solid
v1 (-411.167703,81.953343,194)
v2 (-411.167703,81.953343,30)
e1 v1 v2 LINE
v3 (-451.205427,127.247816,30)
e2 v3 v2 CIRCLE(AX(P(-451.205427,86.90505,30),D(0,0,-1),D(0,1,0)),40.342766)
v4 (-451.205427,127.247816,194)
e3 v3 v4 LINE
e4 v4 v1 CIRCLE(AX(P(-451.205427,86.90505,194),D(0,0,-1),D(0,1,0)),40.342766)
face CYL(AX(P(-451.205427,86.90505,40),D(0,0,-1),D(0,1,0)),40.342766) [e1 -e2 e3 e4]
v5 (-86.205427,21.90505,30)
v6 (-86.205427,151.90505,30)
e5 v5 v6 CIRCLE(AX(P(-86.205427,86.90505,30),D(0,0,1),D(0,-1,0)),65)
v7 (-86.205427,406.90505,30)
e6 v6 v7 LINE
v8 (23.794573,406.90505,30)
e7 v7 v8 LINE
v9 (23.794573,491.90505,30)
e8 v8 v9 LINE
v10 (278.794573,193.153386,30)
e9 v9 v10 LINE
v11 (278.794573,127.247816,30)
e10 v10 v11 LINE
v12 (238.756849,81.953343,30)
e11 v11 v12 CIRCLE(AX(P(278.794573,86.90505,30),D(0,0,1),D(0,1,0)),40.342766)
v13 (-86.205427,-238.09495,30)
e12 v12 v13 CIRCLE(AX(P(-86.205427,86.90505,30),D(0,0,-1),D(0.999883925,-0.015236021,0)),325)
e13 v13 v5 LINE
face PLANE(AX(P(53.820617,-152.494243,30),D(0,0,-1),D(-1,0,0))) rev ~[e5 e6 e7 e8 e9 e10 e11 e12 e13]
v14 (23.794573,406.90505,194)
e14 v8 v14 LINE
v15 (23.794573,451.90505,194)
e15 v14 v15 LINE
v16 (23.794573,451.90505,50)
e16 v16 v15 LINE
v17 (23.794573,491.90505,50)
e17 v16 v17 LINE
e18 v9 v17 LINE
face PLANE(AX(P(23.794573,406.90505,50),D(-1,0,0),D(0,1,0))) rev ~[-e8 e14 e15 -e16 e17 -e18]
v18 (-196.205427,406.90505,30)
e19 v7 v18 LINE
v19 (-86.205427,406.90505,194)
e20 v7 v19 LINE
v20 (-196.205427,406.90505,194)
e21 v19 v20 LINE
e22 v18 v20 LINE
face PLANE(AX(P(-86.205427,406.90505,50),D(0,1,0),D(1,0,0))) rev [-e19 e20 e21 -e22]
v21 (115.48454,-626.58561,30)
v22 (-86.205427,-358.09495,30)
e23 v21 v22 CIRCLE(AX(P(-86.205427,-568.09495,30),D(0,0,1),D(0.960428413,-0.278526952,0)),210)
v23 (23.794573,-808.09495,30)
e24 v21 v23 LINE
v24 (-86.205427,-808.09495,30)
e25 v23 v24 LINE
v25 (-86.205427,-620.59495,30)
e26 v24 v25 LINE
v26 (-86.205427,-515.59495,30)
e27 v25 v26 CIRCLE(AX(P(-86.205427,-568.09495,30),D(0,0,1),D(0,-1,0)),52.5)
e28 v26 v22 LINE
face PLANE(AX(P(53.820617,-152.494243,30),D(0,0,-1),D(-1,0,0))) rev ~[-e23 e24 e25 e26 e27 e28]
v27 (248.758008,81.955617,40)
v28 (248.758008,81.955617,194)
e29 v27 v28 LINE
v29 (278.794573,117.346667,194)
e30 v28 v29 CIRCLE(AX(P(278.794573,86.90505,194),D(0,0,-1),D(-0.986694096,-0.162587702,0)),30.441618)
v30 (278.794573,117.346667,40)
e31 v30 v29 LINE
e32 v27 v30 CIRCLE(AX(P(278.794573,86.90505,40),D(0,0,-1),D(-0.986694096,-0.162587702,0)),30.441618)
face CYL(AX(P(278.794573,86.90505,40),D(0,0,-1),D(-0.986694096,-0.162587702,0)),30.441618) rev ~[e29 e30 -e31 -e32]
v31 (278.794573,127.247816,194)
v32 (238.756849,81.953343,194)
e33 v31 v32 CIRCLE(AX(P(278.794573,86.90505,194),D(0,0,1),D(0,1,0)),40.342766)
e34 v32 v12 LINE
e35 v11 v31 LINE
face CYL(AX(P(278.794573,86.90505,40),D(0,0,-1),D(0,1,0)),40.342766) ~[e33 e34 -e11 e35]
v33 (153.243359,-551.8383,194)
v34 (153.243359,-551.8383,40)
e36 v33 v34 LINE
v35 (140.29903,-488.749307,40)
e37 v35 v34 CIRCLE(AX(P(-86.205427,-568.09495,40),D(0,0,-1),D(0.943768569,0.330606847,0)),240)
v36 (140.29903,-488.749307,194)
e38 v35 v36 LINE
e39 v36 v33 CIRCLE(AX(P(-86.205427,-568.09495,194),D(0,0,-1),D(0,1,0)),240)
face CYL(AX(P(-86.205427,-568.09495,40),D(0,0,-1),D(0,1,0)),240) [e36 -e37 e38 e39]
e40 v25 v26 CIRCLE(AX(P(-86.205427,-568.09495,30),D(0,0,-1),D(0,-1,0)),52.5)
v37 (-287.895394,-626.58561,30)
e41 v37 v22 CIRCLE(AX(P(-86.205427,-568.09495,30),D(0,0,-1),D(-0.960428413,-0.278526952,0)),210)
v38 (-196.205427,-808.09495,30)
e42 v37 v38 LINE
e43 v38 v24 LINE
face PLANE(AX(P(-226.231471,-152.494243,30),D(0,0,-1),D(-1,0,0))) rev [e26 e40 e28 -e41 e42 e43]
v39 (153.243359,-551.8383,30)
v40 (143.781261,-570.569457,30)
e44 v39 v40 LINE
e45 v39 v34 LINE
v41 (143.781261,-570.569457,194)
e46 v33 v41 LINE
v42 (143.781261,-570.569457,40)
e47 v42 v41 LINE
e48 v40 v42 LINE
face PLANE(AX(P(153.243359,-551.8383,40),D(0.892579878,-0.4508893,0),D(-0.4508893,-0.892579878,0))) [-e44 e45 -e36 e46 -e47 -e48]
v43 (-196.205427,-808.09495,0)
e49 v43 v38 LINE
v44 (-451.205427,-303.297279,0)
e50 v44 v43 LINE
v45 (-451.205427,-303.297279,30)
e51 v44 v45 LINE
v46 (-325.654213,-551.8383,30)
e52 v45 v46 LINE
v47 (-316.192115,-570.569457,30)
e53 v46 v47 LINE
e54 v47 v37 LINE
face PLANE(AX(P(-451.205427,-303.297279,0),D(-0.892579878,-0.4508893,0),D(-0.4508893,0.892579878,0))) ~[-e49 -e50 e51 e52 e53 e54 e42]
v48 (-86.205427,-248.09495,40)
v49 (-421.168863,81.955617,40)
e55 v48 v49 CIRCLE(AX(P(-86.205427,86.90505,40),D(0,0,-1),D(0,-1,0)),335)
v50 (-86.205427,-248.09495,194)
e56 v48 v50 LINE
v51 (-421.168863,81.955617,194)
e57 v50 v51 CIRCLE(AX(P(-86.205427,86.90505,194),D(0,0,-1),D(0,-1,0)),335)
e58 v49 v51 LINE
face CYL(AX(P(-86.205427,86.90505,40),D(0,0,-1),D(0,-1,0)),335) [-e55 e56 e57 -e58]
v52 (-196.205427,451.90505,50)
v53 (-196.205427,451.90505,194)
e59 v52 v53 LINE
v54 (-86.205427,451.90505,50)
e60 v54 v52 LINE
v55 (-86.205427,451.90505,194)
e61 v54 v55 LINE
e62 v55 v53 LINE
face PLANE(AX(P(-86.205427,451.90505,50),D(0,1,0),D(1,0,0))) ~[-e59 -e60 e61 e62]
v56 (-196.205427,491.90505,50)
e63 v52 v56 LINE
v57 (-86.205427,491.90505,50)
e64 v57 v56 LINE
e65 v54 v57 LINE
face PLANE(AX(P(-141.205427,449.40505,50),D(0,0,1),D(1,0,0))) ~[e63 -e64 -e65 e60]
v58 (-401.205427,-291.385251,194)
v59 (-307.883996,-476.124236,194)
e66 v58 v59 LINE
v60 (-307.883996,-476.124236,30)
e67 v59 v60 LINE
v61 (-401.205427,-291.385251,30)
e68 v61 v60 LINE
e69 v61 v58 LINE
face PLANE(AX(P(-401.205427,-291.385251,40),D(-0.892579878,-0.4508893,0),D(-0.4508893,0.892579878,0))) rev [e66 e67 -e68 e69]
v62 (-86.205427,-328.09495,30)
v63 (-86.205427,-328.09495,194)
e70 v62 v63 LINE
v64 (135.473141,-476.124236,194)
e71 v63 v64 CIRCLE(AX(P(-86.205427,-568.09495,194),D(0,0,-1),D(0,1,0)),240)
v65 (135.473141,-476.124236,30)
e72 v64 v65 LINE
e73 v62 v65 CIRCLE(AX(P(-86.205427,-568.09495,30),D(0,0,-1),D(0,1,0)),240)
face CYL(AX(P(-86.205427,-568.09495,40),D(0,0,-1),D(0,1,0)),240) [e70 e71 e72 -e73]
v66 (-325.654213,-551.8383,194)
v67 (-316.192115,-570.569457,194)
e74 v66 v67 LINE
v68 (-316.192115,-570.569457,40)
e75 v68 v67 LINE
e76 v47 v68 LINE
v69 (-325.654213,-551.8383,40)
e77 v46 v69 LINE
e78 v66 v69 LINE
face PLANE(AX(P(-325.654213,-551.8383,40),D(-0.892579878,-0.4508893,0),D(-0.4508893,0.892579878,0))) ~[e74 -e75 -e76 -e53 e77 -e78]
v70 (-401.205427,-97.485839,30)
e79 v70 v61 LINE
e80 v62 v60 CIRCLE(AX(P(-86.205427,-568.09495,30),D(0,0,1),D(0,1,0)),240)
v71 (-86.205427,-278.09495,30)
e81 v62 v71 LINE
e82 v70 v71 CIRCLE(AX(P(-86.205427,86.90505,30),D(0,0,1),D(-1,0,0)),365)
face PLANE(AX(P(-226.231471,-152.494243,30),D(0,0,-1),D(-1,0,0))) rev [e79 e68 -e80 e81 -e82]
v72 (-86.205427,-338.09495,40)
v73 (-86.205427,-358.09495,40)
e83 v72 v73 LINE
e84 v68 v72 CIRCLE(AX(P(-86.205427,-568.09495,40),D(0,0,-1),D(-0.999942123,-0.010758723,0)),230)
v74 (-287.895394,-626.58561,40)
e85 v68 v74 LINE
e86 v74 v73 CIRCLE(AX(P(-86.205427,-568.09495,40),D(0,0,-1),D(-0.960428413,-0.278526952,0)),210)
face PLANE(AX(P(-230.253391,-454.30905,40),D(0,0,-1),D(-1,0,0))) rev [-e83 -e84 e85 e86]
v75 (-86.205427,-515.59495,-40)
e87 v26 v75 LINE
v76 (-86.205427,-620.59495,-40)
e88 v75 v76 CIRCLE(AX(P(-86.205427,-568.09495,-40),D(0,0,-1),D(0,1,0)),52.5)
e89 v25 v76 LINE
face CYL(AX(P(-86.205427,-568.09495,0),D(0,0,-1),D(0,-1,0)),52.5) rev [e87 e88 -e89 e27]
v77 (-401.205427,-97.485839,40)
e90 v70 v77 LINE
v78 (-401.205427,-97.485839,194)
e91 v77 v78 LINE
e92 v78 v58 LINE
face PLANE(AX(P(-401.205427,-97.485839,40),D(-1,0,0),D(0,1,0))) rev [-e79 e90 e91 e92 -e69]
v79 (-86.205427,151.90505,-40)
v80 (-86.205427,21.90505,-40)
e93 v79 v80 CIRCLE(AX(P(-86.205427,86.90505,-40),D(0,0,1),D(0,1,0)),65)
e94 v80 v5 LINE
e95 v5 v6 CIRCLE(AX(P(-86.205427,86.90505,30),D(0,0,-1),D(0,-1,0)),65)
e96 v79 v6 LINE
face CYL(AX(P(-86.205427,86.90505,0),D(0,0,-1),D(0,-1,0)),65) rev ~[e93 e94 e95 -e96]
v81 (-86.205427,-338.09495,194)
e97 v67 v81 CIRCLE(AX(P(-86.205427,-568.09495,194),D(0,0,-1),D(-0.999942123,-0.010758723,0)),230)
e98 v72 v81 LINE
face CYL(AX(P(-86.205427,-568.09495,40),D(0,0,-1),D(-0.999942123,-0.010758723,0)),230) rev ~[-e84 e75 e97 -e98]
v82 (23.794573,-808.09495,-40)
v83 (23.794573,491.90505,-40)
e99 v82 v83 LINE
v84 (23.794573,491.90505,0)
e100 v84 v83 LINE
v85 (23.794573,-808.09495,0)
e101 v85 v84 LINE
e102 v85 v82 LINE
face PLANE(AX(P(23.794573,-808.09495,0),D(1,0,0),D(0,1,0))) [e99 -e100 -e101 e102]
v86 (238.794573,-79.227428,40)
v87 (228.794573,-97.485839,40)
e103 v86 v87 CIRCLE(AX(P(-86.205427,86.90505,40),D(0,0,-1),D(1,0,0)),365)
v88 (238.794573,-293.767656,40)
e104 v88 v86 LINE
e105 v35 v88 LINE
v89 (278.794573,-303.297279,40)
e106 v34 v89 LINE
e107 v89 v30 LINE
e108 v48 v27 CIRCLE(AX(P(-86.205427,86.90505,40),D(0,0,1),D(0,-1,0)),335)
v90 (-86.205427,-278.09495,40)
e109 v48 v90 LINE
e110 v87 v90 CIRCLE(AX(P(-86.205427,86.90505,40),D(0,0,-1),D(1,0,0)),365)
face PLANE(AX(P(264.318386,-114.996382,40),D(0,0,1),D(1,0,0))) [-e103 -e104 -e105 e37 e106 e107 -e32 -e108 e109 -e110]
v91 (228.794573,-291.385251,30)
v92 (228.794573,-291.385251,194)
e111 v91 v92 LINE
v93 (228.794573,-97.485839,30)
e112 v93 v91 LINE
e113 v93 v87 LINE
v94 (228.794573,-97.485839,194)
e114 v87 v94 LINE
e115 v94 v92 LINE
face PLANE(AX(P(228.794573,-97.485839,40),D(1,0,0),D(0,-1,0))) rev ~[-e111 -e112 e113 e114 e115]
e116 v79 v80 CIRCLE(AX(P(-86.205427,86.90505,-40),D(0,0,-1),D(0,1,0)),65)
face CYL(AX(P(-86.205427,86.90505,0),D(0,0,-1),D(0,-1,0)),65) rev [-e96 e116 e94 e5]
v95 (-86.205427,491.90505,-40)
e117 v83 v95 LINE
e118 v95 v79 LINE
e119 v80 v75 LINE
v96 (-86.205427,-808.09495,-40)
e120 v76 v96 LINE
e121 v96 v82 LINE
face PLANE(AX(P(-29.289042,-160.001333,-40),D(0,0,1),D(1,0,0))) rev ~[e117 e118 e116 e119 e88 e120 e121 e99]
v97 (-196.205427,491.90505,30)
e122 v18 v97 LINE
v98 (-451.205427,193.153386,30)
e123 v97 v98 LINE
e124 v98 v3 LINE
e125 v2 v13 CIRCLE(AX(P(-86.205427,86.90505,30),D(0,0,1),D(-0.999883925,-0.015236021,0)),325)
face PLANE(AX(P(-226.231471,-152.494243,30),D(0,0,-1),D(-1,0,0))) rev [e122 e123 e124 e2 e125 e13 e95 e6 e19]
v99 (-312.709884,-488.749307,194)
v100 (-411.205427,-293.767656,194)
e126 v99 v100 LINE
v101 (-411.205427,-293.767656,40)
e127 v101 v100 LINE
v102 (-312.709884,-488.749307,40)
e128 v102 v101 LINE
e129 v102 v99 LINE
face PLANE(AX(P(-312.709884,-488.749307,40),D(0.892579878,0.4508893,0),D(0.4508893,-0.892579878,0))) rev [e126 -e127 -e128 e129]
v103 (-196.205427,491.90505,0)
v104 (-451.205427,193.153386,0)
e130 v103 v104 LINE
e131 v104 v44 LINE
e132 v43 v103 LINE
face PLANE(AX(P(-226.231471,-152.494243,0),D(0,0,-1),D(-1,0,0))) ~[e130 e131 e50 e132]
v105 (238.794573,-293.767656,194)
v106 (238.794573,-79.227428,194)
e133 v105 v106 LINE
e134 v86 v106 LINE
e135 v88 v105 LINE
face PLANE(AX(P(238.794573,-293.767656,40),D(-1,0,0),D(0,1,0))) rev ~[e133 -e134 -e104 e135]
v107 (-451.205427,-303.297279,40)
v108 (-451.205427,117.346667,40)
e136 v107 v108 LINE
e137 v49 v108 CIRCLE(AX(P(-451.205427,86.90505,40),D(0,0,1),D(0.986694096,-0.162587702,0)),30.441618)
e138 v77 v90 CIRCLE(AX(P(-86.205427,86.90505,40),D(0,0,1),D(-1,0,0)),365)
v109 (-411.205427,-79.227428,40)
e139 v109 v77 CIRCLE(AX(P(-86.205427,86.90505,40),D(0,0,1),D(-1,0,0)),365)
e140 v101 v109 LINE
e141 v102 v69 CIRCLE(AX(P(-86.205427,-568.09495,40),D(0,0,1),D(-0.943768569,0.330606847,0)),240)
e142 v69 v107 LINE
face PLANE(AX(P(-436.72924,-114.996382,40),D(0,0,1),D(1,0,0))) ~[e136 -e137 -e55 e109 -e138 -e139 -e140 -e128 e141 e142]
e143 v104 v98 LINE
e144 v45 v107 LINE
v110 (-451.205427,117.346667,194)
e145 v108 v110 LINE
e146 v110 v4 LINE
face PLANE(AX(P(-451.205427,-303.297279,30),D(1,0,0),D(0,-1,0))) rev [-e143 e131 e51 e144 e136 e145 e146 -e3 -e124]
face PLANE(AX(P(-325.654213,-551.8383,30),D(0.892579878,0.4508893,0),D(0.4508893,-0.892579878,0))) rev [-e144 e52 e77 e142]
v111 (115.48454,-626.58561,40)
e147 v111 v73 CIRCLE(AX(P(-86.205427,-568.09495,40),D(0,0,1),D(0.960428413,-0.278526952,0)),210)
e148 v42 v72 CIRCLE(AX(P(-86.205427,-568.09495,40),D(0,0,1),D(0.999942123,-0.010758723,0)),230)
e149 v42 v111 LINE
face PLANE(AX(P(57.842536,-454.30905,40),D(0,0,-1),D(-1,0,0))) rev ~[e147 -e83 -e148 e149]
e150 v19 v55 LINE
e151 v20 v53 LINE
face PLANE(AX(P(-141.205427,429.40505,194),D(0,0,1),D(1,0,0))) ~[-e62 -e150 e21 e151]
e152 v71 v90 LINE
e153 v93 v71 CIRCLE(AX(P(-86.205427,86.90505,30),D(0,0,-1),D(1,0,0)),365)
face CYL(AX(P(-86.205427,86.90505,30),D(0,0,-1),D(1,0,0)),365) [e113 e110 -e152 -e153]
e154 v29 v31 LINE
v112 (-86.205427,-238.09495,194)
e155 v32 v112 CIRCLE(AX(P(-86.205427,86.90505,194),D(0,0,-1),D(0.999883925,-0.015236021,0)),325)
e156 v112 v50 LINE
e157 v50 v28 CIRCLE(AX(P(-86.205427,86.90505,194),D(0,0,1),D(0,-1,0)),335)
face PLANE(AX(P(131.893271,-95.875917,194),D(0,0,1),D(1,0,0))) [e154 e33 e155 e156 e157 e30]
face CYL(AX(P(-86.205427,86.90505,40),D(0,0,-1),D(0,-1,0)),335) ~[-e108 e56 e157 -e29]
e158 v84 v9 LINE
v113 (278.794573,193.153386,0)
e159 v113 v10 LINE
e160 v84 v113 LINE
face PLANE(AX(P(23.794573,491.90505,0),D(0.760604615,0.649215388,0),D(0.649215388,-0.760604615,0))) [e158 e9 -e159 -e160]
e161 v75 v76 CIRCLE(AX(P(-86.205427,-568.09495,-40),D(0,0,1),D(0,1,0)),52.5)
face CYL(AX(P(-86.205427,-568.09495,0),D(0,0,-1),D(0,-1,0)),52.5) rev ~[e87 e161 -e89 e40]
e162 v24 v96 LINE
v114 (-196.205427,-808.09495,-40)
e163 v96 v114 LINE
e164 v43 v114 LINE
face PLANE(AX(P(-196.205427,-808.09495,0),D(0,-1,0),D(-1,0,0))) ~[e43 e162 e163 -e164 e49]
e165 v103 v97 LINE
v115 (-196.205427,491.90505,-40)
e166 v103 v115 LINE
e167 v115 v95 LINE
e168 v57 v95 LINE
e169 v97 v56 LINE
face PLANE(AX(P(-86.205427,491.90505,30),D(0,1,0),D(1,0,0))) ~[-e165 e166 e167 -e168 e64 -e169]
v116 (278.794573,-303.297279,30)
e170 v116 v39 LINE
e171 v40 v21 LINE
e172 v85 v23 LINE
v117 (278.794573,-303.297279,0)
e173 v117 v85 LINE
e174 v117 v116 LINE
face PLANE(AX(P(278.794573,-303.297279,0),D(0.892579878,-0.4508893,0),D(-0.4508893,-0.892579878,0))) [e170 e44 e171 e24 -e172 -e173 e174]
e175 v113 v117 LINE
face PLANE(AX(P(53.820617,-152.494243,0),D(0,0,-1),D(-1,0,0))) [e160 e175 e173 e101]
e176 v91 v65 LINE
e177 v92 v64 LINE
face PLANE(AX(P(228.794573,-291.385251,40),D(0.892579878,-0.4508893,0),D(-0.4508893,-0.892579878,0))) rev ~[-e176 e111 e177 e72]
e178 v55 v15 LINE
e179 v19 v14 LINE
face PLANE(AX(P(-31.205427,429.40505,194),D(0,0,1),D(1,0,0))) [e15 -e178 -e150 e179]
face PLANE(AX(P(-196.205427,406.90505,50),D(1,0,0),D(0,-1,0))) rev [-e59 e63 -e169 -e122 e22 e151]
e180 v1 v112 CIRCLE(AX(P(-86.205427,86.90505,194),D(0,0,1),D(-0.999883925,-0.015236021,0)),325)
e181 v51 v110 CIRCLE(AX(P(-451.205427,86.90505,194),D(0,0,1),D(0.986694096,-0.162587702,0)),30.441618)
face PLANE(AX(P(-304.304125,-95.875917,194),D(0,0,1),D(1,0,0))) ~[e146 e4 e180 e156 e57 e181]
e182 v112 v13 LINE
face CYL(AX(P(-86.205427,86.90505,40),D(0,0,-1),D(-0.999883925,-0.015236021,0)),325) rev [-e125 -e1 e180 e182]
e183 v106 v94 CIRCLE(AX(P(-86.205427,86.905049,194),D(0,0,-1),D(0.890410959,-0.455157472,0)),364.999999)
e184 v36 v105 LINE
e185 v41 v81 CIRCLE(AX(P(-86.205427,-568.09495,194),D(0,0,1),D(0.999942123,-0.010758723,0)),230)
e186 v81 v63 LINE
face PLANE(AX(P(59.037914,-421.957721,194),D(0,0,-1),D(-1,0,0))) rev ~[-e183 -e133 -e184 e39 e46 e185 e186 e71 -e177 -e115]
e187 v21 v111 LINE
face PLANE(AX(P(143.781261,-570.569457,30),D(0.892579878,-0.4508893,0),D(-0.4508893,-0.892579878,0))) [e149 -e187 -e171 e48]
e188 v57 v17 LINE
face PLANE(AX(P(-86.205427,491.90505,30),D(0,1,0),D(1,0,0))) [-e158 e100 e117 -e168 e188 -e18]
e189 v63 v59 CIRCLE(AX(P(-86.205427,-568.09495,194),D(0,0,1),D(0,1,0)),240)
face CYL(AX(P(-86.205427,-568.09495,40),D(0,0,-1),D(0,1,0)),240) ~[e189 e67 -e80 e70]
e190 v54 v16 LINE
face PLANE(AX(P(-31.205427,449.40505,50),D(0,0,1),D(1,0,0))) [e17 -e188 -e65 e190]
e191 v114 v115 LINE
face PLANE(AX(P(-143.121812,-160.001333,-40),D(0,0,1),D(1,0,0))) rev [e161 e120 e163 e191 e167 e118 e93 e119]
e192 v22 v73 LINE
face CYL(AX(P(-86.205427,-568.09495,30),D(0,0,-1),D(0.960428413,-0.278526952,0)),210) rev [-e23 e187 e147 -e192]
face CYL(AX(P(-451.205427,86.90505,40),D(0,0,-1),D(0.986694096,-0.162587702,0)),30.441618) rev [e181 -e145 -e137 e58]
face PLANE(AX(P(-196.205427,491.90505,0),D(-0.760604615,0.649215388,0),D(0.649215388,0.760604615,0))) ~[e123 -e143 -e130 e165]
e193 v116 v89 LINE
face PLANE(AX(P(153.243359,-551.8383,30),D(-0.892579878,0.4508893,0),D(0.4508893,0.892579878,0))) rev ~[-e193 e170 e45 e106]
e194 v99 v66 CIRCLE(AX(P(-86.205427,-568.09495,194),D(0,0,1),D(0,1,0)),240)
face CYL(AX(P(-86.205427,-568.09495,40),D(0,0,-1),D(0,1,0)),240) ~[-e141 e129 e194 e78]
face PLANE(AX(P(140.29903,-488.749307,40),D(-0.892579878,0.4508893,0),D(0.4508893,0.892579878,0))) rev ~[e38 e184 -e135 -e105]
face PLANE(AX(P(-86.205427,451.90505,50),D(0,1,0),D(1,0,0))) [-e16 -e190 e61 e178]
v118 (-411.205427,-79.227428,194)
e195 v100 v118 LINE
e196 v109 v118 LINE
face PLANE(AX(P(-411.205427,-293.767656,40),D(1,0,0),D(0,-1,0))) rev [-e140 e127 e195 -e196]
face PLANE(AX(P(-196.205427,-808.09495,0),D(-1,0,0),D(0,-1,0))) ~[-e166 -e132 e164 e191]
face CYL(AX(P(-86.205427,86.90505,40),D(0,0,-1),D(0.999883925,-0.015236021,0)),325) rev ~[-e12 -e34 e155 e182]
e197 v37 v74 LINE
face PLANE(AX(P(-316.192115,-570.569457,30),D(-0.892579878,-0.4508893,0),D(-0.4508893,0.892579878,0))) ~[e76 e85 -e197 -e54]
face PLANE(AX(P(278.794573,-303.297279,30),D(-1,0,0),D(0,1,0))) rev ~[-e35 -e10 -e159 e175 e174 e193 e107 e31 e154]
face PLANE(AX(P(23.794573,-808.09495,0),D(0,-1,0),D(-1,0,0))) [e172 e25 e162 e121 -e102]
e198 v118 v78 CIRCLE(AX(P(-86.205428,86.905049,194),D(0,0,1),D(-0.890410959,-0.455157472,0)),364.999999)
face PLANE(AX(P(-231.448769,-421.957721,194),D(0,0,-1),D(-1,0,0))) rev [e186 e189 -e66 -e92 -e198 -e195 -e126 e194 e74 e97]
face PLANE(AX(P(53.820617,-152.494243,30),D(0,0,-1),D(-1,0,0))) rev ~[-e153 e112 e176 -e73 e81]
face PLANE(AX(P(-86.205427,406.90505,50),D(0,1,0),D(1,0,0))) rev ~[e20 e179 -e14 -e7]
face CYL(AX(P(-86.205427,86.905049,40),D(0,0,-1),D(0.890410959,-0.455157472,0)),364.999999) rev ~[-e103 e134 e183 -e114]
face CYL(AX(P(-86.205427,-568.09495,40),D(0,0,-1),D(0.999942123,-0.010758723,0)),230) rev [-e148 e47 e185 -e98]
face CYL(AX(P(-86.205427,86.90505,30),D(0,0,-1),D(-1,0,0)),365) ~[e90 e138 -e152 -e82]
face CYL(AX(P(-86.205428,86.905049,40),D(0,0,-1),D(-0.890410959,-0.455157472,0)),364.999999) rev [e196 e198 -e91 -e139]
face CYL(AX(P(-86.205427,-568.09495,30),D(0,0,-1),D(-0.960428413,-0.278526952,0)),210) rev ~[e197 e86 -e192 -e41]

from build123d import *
from build123d.topology import SkipClean

# Parameters (mm, degrees)
PIASTRONEEXTR_DEPTH   = 30
LAMONE_DEPTH          = 40
CARTEREXT1_START      = 30
CARTEREXT1_DEPTH      = 10
CARTEREXT2_START      = 40
CARTEREXT2_DEPTH      = 154
IRRIGIDCIRC1_START    = 30
IRRIGIDCIRC1_DEPTH    = 10
IRRIGIDCIRC2_START    = 40
IRRIGIDCIRC2_DEPTH    = 154
IRRIGIDESTERNO1_START = 30
IRRIGIDESTERNO1_DEPTH = 10
IRRIGIDESTERNO2_START = 40
IRRIGIDESTERNO2_DEPTH = 154
RINFORZOSUP1_START    = 30
SKETCH12_W            = 110
SKETCH12_H            = 85
RINFORZOSUP1_DEPTH    = 20
BOSS_EXTRUDE1_START   = 50
SKETCH12_4_W          = 110
SKETCH12_4_H          = 45
BOSS_EXTRUDE1_DEPTH   = 144


with BuildPart() as part:
    # Piastrone → PiastroneExtr (new body)
    with BuildSketch(Plane.XY):
        with BuildLine():
            Line((-86.205427068, 491.905049747), (23.794572932, 491.905049747))
            Line((23.794572932, 491.905049747), (278.794572932, 193.153386451))
            Line((278.794572932, 193.153386451), (278.794572932, -303.297278914))
            Line((278.794572932, -303.297278914), (23.794572932, -808.094950253))
            Line((23.794572932, -808.094950253), (-86.205427068, -808.094950253))
            Line((-86.205427068, -808.094950253), (-86.205427068, -620.594950253))
            ThreePointArc((-86.205427068, -620.594950253), (-33.705427068, -568.094950253), (-86.205427068, -515.594950253))
            Line((-86.205427068, -515.594950253), (-86.205427068, 21.905049747))
            ThreePointArc((-86.205427068, 21.905049747), (-21.205427068, 86.905049747), (-86.205427068, 151.905049747))
            Line((-86.205427068, 151.905049747), (-86.205427068, 491.905049747))
        make_face()
    extrude(amount=PIASTRONEEXTR_DEPTH)


with BuildPart() as body_2:
    # Sketch14 → Lamone (new body)
    with BuildSketch(Plane(origin=(0, 0, 0), x_dir=(-1, 0, 0), z_dir=(0, 0, -1))):
        with BuildLine():
            Line((-23.794572932, 491.905049747), (86.205427068, 491.905049747))
            Line((86.205427068, 491.905049747), (86.205427068, 151.905049747))
            ThreePointArc((86.205427068, 151.905049747), (21.205427068, 86.905049747), (86.205427068, 21.905049747))
            Line((86.205427068, 21.905049747), (86.205427068, -515.594950253))
            ThreePointArc((86.205427068, -515.594950253), (33.705427068, -568.094950253), (86.205427068, -620.594950253))
            Line((86.205427068, -620.594950253), (86.205427068, -808.094950253))
            Line((86.205427068, -808.094950253), (-23.794572932, -808.094950253))
            Line((-23.794572932, -808.094950253), (-23.794572932, 491.905049747))
        make_face()
    extrude(amount=LAMONE_DEPTH)


with BuildPart() as body_3:
    # Carter → CarterExt1 (new body)
    with BuildSketch(Plane.XY.offset(CARTEREXT1_START)):
        with BuildLine():
            ThreePointArc((248.758008424, 81.95561707), (255.585083182, 106.603061749), (278.794572932, 117.346667498))
            Line((278.794572932, 117.346667498), (278.794572932, 86.905049747))
            ThreePointArc((278.794572932, 86.905049747), (171.888548065, -171.188925386), (-86.205427068, -278.094950253))
            Line((-86.205427068, -278.094950253), (-86.205427068, -248.094950253))
            ThreePointArc((-86.205427068, -248.094950253), (148.918944333, -151.719194564), (248.758008424, 81.95561707))
        make_face()
        with BuildLine():
            ThreePointArc((-86.205427068, -248.094950253), (148.918944333, -151.719194564), (248.758008424, 81.95561707))
            ThreePointArc((248.758008424, 81.95561707), (255.585083182, 106.603061749), (278.794572932, 117.346667498))
            Line((278.794572932, 117.346667498), (278.794572932, 127.247815787))
            ThreePointArc((278.794572932, 127.247815787), (248.567893296, 113.623706335), (238.756848588, 81.953342871))
            ThreePointArc((238.756848588, 81.953342871), (141.846864376, -144.648728817), (-86.205427068, -238.094950253))
            Line((-86.205427068, -238.094950253), (-86.205427068, -248.094950253))
        make_face()
    extrude(amount=CARTEREXT1_DEPTH)

    # Carter<4> → CarterExt2 (add)
    with BuildSketch(Plane.XY.offset(CARTEREXT2_START)):
        with BuildLine():
            ThreePointArc((-86.205427068, -248.094950253), (148.918944333, -151.719194564), (248.758008424, 81.95561707))
            ThreePointArc((248.758008424, 81.95561707), (255.585083182, 106.603061749), (278.794572932, 117.346667498))
            Line((278.794572932, 117.346667498), (278.794572932, 127.247815787))
            ThreePointArc((278.794572932, 127.247815787), (248.567893296, 113.623706335), (238.756848588, 81.953342871))
            ThreePointArc((238.756848588, 81.953342871), (141.846864376, -144.648728817), (-86.205427068, -238.094950253))
            Line((-86.205427068, -238.094950253), (-86.205427068, -248.094950253))
        make_face()
    extrude(amount=CARTEREXT2_DEPTH)


with BuildPart() as body_4:
    # IrrigidCirc → IrrigidCirc1 (new body)
    with BuildSketch(Plane.XY.offset(IRRIGIDCIRC1_START)):
        with BuildLine():
            ThreePointArc((-86.205427068, -338.094950253), (77.301662182, -406.337626569), (143.781261282, -570.569456643))
            Line((143.781261282, -570.569456643), (115.484539714, -626.585610189))
            ThreePointArc((115.484539714, -626.585610189), (81.697876334, -441.966124417), (-86.205427068, -358.094950253))
            Line((-86.205427068, -358.094950253), (-86.205427068, -338.094950253))
        make_face()
        with BuildLine():
            ThreePointArc((-86.205427068, -328.094950253), (77.651833725, -392.735895495), (153.243359331, -551.838299541))
            Line((153.243359331, -551.838299541), (143.781261282, -570.569456643))
            ThreePointArc((143.781261282, -570.569456643), (77.301662182, -406.337626569), (-86.205427068, -338.094950253))
            Line((-86.205427068, -338.094950253), (-86.205427068, -328.094950253))
        make_face()
    extrude(amount=IRRIGIDCIRC1_DEPTH)

    # IrrigidCirc<7> → IrrigidCirc2 (add)
    with BuildSketch(Plane.XY.offset(IRRIGIDCIRC2_START)):
        with BuildLine():
            ThreePointArc((-86.205427068, -328.094950253), (77.651833725, -392.735895495), (153.243359331, -551.838299541))
            Line((153.243359331, -551.838299541), (143.781261282, -570.569456643))
            ThreePointArc((143.781261282, -570.569456643), (77.301662182, -406.337626569), (-86.205427068, -338.094950253))
            Line((-86.205427068, -338.094950253), (-86.205427068, -328.094950253))
        make_face()
    extrude(amount=IRRIGIDCIRC2_DEPTH)


with BuildPart() as body_5:
    # Sketch9 → IrrigidEsterno1 (new body)
    with BuildSketch(Plane.XY.offset(IRRIGIDESTERNO1_START)):
        with BuildLine():
            Line((238.794572932, -293.767656293), (278.794572932, -303.297278914))
            Line((278.794572932, -303.297278914), (278.794572932, 86.905049747))
            ThreePointArc((278.794572932, 86.905049747), (268.653699911, 1.465012294), (238.794572932, -79.227427511))
            Line((238.794572932, -79.227427511), (238.794572932, -293.767656293))
        make_face()
        with BuildLine():
            Line((153.243359331, -551.838299541), (278.794572932, -303.297278914))
            Line((278.794572932, -303.297278914), (238.794572932, -293.767656293))
            Line((238.794572932, -293.767656293), (140.299029593, -488.749306939))
            ThreePointArc((140.299029593, -488.749306939), (148.897021721, -519.857635093), (153.243359331, -551.838299541))
        make_face()
        with BuildLine():
            Line((140.299029593, -488.749306939), (238.794572932, -293.767656293))
            Line((238.794572932, -293.767656293), (228.794572932, -291.385250638))
            Line((228.794572932, -291.385250638), (135.473141453, -476.124236116))
            ThreePointArc((135.473141453, -476.124236116), (137.974978228, -482.402792609), (140.299029593, -488.749306939))
        make_face()
        with BuildLine():
            Line((228.794572932, -291.385250638), (238.794572932, -293.767656293))
            Line((238.794572932, -293.767656293), (238.794572932, -79.227427511))
            ThreePointArc((238.794572932, -79.227427511), (233.924768948, -88.42794087), (228.794572932, -97.485839398))
            Line((228.794572932, -97.485839398), (228.794572932, -291.385250638))
        make_face()
    extrude(amount=IRRIGIDESTERNO1_DEPTH)

    # Sketch9<3> → IrrigidEsterno2 (add)
    with BuildSketch(Plane.XY.offset(IRRIGIDESTERNO2_START)):
        with BuildLine():
            Line((228.794572932, -291.385250638), (238.794572932, -293.767656293))
            Line((238.794572932, -293.767656293), (238.794572932, -79.227427511))
            ThreePointArc((238.794572932, -79.227427511), (233.924768948, -88.42794087), (228.794572932, -97.485839398))
            Line((228.794572932, -97.485839398), (228.794572932, -291.385250638))
        make_face()
        with BuildLine():
            Line((140.299029593, -488.749306939), (238.794572932, -293.767656293))
            Line((238.794572932, -293.767656293), (228.794572932, -291.385250638))
            Line((228.794572932, -291.385250638), (135.473141453, -476.124236116))
            ThreePointArc((135.473141453, -476.124236116), (137.974978228, -482.402792609), (140.299029593, -488.749306939))
        make_face()
    extrude(amount=IRRIGIDESTERNO2_DEPTH)


with BuildPart() as body_6:
    # Sketch12 → RinforzoSup1 (new body)
    with BuildSketch(Plane.XY.offset(RINFORZOSUP1_START)):
        with Locations((-31.205427068, 449.405049747)):
            Rectangle(SKETCH12_W, SKETCH12_H)
    extrude(amount=RINFORZOSUP1_DEPTH)

    # Sketch12<4> → Boss-Extrude1 (add)
    with BuildSketch(Plane.XY.offset(BOSS_EXTRUDE1_START)):
        with Locations((-31.205427068, 429.405049747)):
            Rectangle(SKETCH12_4_W, SKETCH12_4_H)
    extrude(amount=BOSS_EXTRUDE1_DEPTH)


with BuildPart() as body_2_1:
    add(body_2.part)

    # Combine11: union part, body 6, body 3, body 5, body 4
    add(part.part)
    add(body_6.part)
    add(body_3.part)
    add(body_5.part)
    add(body_4.part)

    # Mirror3: body 2 across plane


with BuildPart() as body_2_2:
    with SkipClean():  # the faces are left unmerged after this step: merging them gives an invalid solid
        add(body_2_1.part)
        add(body_2_1.part.mirror(Plane(origin=(-86.205427068, 491.905049747, -40), x_dir=(0, 0, 1), z_dir=(1, 0, 0))))


solid = body_2_2.part
